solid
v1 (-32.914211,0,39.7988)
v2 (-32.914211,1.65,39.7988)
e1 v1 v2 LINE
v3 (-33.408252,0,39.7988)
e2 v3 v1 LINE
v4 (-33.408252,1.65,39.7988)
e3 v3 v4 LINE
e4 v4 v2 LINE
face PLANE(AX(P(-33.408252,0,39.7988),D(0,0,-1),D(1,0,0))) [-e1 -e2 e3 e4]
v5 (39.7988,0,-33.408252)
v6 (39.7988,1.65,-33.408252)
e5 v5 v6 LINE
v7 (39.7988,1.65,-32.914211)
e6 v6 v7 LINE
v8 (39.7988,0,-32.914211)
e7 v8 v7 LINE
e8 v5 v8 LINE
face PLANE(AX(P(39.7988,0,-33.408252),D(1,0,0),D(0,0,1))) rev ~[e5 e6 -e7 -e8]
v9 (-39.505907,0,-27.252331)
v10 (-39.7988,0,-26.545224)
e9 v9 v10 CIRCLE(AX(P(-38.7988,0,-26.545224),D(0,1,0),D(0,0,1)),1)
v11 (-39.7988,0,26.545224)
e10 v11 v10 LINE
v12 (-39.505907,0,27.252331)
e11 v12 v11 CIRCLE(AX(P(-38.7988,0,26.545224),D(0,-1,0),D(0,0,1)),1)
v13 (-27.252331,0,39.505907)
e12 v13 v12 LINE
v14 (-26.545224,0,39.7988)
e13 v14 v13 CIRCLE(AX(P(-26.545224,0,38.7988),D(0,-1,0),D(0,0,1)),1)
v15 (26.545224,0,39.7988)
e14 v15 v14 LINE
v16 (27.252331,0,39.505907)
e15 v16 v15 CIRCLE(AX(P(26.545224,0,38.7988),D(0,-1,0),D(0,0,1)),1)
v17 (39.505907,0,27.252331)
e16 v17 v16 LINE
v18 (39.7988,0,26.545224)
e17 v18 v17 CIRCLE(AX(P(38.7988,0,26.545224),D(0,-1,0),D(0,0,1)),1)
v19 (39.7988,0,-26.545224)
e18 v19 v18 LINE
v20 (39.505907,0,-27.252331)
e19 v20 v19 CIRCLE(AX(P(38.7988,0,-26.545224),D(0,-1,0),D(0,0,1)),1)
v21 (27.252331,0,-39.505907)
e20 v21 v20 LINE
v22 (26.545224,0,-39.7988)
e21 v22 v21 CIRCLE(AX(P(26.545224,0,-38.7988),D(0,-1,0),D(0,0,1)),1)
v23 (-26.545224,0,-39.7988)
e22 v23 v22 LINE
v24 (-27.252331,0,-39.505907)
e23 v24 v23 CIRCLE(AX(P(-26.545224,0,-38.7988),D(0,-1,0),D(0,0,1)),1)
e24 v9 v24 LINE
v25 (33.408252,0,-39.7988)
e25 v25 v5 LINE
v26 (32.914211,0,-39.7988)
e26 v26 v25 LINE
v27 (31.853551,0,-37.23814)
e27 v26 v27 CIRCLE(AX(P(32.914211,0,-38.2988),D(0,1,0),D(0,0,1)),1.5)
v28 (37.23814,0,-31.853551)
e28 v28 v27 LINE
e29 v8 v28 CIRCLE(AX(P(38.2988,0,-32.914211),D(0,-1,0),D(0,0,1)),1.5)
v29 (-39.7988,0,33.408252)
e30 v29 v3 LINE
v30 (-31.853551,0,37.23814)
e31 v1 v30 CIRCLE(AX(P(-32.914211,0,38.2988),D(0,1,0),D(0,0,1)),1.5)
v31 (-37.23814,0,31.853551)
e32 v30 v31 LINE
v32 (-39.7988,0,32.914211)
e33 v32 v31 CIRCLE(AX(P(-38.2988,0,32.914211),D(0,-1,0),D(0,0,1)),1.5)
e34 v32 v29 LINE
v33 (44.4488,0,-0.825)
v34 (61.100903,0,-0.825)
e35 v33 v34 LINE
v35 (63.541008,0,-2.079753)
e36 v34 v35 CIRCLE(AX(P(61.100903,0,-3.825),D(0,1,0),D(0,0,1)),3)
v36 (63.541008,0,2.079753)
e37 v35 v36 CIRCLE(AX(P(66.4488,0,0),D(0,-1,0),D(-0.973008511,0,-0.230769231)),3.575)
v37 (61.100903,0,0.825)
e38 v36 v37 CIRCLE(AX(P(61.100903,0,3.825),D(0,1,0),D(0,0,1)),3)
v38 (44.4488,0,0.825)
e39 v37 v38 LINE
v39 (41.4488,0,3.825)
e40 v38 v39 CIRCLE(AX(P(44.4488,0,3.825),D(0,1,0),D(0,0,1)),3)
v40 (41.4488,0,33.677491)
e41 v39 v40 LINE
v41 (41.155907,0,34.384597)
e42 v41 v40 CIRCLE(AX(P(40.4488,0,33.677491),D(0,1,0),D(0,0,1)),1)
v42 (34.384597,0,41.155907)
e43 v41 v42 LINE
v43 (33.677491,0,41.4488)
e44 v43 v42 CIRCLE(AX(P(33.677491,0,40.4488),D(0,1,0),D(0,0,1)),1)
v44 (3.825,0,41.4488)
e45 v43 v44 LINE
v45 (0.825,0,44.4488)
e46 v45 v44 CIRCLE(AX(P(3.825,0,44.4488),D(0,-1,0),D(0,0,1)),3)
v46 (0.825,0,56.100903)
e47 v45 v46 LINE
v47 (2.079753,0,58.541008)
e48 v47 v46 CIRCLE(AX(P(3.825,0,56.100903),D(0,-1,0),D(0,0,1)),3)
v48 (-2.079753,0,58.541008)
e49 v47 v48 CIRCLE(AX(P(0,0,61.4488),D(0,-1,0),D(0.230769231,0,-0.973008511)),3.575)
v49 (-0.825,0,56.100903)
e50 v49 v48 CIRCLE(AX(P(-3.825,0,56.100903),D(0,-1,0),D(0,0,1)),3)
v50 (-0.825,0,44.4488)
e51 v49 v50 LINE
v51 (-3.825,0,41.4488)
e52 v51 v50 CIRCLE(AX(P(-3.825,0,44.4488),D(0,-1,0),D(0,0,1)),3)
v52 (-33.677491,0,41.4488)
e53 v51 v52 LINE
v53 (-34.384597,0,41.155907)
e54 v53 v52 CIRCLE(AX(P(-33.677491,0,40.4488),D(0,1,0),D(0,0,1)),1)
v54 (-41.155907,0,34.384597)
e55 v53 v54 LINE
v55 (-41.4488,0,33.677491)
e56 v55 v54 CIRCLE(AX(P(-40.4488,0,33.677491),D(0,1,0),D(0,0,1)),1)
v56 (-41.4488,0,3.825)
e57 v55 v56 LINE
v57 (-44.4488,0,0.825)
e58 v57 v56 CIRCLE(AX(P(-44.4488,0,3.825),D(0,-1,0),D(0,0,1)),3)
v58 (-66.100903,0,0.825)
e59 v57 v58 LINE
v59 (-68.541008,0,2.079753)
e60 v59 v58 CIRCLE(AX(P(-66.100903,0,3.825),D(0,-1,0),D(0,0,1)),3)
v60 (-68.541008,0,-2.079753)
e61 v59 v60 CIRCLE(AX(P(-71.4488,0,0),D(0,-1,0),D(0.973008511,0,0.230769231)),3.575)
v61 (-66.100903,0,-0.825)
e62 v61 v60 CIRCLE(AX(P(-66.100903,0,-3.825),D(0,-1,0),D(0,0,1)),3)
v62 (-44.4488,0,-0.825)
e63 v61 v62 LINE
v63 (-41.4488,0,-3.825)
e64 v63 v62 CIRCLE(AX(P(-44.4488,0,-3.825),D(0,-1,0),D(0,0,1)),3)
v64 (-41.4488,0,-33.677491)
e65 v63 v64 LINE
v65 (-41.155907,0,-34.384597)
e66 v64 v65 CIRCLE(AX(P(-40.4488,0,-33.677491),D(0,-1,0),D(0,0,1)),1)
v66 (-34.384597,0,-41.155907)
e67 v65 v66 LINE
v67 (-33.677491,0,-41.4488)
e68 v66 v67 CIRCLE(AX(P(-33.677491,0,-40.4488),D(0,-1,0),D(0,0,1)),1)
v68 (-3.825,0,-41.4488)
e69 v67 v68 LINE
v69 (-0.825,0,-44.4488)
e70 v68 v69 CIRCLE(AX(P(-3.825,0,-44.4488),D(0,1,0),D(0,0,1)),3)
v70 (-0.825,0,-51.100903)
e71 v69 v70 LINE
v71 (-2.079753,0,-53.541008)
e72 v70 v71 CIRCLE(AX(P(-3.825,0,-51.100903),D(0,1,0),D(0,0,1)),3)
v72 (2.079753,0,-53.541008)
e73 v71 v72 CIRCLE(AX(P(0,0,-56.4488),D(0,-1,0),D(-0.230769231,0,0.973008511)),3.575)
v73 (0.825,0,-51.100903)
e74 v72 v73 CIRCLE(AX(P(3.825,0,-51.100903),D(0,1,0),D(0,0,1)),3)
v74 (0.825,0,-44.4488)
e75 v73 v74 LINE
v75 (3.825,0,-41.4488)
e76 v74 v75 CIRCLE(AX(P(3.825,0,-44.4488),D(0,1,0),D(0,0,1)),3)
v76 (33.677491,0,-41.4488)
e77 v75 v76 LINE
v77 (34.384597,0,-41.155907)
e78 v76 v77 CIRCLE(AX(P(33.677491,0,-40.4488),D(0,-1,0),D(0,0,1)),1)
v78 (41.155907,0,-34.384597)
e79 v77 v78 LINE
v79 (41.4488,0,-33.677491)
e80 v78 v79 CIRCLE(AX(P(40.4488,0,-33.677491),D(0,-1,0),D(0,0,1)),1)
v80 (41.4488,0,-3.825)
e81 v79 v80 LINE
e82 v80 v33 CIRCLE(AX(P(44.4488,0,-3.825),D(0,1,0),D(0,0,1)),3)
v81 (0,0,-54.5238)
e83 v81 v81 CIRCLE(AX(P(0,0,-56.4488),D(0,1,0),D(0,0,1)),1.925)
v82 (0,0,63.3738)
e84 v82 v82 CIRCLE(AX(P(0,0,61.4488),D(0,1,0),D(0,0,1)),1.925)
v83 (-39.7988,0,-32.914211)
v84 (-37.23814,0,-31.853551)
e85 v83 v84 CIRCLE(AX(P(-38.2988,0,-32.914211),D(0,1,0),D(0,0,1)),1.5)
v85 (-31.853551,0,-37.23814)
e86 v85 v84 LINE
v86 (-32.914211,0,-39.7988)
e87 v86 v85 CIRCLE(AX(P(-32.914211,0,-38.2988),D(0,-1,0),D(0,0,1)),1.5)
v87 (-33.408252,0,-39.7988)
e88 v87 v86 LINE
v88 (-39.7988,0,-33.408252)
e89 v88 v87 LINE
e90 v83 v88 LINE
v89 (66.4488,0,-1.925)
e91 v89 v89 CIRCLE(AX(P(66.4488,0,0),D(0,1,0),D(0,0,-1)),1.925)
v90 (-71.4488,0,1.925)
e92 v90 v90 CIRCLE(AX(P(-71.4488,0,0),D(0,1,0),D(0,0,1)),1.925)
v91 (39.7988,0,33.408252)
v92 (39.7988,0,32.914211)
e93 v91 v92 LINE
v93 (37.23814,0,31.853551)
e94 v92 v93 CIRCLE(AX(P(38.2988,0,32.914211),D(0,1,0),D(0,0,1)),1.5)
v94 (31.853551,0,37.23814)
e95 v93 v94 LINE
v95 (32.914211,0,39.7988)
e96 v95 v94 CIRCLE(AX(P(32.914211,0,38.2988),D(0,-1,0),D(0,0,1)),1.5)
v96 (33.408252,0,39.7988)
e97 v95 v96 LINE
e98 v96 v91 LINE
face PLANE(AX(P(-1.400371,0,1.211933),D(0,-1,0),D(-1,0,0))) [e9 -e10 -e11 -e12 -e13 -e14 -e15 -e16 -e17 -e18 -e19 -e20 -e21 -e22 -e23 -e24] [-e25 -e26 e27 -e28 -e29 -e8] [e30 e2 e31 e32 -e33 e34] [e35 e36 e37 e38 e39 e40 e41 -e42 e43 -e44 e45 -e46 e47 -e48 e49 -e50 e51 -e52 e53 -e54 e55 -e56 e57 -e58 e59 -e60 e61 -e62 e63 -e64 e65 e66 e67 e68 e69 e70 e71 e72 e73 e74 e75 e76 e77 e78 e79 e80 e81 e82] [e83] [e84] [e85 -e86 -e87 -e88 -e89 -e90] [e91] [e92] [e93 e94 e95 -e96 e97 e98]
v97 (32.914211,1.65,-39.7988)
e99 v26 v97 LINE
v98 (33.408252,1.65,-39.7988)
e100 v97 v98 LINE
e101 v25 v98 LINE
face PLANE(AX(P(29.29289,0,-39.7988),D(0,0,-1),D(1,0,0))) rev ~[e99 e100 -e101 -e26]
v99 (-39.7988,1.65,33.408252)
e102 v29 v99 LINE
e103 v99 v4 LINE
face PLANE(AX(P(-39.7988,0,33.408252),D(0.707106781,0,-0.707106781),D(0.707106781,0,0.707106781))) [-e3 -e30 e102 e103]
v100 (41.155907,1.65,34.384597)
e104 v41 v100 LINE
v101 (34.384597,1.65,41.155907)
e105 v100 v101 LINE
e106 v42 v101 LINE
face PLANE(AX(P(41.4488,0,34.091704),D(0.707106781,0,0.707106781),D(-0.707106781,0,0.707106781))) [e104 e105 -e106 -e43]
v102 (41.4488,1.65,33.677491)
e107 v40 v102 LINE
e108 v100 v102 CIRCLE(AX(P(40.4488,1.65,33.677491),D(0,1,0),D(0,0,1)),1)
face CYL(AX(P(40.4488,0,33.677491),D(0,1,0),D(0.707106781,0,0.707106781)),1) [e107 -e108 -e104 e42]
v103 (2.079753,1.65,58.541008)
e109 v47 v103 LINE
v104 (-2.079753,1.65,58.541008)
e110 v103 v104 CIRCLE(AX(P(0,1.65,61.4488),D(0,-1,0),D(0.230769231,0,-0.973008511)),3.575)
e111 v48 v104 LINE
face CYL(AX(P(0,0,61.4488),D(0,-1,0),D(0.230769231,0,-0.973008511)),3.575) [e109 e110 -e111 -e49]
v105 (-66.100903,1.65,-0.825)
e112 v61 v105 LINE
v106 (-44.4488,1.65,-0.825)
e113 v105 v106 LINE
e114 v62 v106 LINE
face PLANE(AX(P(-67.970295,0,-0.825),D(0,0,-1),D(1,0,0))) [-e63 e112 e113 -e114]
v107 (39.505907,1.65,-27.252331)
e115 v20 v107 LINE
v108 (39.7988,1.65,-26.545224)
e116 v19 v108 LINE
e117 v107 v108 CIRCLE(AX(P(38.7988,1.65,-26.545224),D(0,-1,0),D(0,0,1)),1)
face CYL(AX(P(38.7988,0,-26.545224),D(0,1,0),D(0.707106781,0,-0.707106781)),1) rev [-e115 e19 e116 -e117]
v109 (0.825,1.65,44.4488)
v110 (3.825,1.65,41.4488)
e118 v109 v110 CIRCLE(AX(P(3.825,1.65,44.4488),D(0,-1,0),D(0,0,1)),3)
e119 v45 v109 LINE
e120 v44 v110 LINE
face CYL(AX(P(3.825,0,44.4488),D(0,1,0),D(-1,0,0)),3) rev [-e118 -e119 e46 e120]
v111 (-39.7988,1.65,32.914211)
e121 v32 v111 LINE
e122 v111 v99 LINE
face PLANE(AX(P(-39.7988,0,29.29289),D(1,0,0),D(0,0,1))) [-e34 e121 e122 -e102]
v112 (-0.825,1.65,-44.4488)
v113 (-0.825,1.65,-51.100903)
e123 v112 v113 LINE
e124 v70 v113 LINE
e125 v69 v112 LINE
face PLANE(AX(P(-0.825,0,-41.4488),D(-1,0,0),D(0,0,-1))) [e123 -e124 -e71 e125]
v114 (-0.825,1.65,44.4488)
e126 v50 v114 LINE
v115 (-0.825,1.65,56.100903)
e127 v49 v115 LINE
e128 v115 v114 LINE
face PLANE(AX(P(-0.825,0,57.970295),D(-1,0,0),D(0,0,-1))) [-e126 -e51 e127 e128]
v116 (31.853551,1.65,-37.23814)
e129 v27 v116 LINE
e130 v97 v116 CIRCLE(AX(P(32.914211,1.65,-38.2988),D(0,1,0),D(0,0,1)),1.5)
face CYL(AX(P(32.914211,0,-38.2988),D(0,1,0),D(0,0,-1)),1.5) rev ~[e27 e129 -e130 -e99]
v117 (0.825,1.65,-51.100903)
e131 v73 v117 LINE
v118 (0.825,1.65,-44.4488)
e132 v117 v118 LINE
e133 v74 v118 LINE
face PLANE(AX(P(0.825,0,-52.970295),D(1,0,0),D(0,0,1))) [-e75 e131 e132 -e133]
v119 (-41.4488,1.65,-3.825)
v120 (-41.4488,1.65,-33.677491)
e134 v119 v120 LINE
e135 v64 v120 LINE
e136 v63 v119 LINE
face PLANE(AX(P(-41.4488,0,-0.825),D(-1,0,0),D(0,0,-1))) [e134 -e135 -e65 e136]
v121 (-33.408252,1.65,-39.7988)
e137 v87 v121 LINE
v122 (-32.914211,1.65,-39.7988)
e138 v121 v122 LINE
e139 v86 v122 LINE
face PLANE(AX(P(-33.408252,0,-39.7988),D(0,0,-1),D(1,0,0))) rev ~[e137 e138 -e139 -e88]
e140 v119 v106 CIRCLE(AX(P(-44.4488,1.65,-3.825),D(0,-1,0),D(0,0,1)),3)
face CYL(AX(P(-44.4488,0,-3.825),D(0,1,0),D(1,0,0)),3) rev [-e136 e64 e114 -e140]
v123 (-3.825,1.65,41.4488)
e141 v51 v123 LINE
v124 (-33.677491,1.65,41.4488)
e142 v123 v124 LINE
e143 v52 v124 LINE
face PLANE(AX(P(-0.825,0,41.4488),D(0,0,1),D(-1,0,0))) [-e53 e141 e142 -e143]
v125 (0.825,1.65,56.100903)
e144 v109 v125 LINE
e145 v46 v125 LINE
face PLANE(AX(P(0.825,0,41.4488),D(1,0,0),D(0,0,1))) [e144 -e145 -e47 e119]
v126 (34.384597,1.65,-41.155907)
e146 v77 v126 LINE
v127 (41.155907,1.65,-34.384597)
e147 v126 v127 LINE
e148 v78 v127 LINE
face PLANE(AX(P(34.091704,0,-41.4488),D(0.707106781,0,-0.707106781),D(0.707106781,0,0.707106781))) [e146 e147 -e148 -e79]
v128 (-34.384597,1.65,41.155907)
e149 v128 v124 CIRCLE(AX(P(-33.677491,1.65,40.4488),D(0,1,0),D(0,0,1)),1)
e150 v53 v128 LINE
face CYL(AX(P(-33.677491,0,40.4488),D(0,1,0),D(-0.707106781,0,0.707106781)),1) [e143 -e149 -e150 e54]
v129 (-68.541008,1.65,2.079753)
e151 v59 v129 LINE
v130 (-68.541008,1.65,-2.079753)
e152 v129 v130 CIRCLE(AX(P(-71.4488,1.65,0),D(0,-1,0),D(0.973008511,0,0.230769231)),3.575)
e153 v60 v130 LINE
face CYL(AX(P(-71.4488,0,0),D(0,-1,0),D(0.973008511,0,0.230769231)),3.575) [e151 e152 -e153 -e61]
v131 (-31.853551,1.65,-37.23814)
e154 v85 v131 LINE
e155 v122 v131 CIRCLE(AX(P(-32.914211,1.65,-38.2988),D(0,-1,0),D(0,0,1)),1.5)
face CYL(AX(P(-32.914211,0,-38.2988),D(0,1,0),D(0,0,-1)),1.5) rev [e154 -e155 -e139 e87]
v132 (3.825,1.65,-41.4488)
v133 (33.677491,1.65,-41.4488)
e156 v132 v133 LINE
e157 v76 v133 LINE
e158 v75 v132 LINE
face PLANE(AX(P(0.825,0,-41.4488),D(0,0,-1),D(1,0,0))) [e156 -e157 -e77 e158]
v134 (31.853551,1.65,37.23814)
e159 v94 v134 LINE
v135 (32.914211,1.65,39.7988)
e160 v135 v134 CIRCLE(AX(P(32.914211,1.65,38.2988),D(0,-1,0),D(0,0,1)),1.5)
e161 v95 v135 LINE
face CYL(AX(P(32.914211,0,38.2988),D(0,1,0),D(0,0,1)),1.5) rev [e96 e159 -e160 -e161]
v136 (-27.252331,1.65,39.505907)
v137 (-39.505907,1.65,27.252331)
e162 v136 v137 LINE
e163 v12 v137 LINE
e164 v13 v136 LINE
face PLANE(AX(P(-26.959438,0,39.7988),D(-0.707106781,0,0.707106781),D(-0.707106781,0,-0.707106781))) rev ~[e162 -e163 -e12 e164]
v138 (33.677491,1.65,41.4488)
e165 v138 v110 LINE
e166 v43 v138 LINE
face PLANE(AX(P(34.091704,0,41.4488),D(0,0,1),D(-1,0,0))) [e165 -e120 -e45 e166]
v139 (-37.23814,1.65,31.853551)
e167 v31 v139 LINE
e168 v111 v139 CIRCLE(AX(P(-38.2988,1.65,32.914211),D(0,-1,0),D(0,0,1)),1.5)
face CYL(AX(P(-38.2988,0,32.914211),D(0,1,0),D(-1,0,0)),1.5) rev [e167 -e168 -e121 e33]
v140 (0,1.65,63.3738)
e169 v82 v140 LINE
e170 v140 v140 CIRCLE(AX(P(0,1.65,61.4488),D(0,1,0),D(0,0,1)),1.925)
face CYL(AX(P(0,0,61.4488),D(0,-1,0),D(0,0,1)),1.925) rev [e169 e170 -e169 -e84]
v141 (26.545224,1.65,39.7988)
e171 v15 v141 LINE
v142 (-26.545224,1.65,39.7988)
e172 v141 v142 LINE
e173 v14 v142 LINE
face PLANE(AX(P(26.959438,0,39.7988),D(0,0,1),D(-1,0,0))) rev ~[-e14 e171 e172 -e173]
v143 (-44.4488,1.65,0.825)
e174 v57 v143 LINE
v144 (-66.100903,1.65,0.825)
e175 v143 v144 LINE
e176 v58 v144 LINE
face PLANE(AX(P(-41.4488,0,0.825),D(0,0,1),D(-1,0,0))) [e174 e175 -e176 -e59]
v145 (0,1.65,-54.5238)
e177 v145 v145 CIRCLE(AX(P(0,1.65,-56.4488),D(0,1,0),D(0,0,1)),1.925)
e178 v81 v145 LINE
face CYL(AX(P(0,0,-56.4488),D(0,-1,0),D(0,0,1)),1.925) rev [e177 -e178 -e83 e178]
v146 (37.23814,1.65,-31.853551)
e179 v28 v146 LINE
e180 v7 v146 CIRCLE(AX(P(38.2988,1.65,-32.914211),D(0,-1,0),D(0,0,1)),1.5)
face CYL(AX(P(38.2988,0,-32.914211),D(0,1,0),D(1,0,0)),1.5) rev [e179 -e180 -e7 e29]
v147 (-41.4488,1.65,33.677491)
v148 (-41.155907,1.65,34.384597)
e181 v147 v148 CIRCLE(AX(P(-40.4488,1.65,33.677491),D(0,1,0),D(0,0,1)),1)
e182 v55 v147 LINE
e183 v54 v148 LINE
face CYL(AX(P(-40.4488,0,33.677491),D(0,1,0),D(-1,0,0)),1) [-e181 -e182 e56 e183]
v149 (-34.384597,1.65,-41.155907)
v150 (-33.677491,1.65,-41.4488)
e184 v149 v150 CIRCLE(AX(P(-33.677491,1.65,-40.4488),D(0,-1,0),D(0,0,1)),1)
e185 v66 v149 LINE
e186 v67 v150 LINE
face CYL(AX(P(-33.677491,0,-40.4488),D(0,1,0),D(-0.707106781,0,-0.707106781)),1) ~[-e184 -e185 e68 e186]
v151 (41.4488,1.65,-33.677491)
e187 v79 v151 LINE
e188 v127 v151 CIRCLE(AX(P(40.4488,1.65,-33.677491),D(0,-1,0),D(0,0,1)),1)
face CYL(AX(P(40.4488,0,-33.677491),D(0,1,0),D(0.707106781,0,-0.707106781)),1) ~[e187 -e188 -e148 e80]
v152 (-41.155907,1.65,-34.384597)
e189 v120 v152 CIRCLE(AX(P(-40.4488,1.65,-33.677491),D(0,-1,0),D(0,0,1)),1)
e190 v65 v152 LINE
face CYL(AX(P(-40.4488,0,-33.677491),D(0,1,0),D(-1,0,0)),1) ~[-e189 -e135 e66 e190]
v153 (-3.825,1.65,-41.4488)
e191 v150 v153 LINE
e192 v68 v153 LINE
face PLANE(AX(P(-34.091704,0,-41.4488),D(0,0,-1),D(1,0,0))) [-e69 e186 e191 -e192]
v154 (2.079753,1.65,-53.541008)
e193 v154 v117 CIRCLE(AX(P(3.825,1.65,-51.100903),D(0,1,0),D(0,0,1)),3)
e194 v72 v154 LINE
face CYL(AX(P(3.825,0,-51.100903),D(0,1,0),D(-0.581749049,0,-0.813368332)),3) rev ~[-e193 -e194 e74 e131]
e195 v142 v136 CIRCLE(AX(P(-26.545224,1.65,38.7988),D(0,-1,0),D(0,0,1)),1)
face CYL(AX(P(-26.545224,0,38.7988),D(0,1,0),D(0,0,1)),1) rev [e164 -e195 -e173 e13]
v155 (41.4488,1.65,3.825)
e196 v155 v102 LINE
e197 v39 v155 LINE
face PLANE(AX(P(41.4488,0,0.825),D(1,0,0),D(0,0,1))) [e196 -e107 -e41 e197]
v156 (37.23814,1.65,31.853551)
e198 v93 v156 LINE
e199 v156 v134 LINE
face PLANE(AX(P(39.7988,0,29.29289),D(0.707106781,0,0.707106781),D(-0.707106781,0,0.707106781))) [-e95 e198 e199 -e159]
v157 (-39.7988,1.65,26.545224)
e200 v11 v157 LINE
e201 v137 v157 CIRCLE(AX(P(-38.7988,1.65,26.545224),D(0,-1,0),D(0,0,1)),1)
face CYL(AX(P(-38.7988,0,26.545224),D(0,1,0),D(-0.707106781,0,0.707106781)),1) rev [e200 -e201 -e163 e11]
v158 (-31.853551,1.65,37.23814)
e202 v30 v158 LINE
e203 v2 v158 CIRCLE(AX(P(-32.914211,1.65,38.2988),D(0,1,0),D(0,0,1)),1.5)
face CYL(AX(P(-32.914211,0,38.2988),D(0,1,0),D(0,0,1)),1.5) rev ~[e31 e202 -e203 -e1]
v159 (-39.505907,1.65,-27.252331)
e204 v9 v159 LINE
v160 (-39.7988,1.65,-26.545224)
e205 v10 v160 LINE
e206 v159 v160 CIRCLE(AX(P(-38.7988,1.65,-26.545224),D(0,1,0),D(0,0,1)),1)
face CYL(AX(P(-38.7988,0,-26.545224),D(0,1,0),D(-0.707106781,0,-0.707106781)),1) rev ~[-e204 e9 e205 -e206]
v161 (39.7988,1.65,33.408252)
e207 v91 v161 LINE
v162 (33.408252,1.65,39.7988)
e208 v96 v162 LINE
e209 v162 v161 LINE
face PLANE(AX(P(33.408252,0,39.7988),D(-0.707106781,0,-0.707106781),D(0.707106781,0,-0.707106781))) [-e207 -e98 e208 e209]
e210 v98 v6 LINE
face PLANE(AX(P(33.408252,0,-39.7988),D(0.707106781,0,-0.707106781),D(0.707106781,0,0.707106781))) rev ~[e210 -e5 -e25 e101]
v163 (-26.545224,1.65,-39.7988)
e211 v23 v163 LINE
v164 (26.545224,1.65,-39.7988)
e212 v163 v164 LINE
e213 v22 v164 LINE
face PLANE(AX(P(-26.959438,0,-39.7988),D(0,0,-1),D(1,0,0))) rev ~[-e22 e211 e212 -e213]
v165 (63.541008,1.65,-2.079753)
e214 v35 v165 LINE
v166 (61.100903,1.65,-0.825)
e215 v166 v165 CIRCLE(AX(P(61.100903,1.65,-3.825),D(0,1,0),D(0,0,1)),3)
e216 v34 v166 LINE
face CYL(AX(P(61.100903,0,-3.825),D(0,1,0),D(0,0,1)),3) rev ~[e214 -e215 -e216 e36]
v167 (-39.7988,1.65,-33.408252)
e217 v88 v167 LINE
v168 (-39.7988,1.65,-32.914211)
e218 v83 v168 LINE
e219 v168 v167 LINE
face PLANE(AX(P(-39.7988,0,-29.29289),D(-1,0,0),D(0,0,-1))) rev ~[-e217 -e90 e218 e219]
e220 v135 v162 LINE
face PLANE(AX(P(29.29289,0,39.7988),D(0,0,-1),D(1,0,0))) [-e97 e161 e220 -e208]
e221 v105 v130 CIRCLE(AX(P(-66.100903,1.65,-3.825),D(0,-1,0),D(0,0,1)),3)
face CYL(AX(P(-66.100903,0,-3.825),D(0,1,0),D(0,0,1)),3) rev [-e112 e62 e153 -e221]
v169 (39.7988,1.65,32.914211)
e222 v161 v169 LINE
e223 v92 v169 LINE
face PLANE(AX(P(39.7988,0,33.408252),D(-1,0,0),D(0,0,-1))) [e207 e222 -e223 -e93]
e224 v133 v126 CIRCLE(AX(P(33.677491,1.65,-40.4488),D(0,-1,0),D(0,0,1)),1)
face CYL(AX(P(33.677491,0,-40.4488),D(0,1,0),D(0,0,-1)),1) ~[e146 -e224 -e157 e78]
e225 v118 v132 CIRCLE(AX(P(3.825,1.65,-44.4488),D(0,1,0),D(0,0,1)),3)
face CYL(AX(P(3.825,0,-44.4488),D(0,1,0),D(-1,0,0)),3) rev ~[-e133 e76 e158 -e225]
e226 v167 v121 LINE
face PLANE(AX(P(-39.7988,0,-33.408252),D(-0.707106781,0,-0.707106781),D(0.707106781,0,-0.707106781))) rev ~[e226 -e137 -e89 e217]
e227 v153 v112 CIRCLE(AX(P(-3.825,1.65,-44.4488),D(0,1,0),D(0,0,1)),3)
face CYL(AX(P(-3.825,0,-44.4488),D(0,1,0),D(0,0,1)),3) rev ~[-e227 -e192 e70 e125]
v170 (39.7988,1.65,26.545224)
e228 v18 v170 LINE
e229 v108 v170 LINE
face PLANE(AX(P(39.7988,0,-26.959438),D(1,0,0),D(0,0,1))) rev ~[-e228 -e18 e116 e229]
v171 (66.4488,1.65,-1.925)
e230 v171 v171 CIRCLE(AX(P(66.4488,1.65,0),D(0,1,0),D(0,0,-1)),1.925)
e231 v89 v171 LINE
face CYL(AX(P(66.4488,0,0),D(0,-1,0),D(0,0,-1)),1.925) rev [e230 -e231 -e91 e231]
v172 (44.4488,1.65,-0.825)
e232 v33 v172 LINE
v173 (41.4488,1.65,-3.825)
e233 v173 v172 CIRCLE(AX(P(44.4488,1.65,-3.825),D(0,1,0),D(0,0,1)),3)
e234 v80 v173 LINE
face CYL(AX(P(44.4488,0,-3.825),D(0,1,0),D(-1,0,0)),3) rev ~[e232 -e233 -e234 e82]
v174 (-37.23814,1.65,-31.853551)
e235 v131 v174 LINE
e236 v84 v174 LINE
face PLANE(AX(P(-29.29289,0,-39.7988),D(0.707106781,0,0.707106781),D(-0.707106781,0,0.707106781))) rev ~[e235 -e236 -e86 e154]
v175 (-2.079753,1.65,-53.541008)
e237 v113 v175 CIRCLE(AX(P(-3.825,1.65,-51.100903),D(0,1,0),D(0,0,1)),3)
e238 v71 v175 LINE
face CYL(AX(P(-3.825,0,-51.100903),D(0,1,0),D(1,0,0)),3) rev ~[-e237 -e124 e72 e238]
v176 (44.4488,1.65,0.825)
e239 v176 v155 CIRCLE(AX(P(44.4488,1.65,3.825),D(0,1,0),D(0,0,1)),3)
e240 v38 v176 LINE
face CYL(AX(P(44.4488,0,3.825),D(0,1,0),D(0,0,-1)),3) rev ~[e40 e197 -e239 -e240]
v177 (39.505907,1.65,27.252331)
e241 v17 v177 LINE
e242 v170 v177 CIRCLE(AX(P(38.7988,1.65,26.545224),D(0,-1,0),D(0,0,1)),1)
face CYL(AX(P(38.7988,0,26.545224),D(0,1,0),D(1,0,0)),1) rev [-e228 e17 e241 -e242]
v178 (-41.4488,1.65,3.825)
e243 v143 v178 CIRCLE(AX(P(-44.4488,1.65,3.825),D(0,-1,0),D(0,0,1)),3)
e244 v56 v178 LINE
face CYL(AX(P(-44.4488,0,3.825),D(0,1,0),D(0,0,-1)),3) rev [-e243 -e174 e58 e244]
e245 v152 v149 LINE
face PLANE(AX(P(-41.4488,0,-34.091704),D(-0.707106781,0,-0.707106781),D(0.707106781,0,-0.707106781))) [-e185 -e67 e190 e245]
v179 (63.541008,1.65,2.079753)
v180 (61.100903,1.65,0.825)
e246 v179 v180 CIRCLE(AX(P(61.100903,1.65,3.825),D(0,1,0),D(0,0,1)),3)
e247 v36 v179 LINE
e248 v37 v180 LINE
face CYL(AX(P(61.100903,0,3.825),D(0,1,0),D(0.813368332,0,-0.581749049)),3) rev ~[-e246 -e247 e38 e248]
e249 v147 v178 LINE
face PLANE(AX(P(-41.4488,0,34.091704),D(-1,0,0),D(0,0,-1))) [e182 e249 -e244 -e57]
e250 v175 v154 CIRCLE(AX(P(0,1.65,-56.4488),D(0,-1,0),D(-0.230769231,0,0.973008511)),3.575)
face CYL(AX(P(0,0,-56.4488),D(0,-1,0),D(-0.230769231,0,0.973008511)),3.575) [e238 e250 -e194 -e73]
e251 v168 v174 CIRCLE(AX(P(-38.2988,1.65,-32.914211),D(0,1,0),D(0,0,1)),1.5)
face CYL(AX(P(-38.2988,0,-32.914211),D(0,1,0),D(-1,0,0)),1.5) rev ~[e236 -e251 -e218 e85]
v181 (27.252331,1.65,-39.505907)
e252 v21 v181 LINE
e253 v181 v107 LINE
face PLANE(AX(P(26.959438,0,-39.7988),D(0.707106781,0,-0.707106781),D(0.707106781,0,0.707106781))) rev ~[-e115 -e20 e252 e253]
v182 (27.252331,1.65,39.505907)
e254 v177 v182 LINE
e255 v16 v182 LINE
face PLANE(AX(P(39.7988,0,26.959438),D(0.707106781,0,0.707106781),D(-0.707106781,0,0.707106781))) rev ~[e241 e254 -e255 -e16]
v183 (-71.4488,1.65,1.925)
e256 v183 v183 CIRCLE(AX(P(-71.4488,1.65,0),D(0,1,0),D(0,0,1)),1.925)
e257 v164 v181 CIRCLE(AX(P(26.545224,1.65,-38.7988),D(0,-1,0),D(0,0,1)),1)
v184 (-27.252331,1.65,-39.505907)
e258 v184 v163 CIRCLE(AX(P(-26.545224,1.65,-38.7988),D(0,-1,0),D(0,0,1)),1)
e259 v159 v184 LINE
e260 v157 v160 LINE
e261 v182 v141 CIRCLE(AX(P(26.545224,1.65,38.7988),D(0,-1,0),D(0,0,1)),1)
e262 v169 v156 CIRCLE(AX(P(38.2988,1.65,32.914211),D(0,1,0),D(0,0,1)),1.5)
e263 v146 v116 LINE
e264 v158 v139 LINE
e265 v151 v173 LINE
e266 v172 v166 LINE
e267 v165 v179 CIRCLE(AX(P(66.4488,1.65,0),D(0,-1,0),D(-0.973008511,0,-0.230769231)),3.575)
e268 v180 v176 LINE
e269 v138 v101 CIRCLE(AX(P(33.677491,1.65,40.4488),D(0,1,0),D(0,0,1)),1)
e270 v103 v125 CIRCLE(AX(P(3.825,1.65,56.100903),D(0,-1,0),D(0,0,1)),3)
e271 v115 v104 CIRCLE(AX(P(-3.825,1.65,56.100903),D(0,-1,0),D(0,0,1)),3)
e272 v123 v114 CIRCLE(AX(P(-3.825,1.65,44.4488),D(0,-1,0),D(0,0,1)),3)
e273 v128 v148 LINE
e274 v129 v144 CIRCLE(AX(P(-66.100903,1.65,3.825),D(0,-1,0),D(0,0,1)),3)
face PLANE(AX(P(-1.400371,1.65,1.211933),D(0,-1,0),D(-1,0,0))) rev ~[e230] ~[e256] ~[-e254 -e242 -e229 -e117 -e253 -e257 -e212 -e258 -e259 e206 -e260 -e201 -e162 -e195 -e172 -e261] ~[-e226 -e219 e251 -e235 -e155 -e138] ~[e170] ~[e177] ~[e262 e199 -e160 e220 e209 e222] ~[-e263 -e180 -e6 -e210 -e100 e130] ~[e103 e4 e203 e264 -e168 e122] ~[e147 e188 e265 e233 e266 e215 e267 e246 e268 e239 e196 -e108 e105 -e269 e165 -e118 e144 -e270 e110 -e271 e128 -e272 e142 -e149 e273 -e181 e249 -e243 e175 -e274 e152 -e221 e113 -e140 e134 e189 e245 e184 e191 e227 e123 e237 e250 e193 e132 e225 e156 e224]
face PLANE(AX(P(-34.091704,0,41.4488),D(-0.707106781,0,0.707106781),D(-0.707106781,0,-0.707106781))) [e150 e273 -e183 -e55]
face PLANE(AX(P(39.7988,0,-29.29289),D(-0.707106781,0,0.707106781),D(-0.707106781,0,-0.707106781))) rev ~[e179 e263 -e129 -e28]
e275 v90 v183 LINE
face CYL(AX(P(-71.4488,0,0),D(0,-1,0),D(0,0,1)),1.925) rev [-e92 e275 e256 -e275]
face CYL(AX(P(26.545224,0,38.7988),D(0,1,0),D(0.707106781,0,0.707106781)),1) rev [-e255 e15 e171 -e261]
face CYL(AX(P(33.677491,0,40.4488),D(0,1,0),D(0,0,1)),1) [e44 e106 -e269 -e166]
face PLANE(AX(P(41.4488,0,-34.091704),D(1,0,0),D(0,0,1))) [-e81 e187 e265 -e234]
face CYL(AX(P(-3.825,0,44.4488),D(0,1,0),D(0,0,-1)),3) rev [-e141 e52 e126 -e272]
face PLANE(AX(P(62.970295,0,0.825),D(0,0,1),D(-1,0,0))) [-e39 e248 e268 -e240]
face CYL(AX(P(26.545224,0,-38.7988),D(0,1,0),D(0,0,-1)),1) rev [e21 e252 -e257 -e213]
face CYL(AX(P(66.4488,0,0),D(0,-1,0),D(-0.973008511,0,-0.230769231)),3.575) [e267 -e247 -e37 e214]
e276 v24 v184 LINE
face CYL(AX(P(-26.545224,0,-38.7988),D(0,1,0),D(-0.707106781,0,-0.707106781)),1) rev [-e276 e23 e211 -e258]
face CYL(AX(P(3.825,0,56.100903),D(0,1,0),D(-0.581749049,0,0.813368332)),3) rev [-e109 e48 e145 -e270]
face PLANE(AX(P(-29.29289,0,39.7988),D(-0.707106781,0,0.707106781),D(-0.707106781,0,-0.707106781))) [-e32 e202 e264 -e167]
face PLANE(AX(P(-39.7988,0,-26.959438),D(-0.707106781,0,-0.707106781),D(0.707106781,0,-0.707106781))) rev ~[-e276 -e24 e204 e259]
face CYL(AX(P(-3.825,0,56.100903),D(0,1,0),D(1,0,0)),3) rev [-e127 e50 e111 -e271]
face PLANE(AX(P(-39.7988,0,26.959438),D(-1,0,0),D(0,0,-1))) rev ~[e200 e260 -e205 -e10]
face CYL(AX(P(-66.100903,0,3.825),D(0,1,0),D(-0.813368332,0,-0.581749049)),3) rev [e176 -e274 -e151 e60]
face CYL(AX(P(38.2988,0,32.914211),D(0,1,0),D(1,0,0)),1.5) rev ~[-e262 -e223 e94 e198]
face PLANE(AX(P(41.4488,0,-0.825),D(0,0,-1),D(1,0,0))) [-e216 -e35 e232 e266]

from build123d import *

# Parameters (mm, degrees)
SKETCH1_R           = 1.925
BOSS_EXTRUDE1_DEPTH = 1.65
FILLET4_R           = 3
FILLET3_R           = 1.5
FILLET5_R           = 1


with BuildPart() as part:
    # Sketch1 → Boss-Extrude1 (new body)
    with BuildSketch(Plane(origin=(0, 0, 0), x_dir=(1, 0, 0), z_dir=(0, 1, 0))):
        with BuildLine():
            Line((-41.448800006, 34.091704203), (-34.091704203, 41.448800006))
            Line((-34.091704203, 41.448800006), (-0.825, 41.448800006))
            Line((-0.825, 41.448800006), (-0.825, 52.97029458))
            ThreePointArc((-0.825, 52.97029458), (0, 60.023800006), (0.825, 52.97029458))
            Line((0.825, 52.97029458), (0.825, 41.448800006))
            Line((0.825, 41.448800006), (34.091704203, 41.448800006))
            Line((34.091704203, 41.448800006), (41.448800006, 34.091704203))
            Line((41.448800006, 34.091704203), (41.448800006, 0.825))
            Line((41.448800006, 0.825), (62.97029458, 0.825))
            ThreePointArc((62.97029458, 0.825), (70.023800006, 0), (62.97029458, -0.825))
            Line((62.97029458, -0.825), (41.448800006, -0.825))
            Line((41.448800006, -0.825), (41.448800006, -34.091704203))
            Line((41.448800006, -34.091704203), (34.091704203, -41.448800006))
            Line((34.091704203, -41.448800006), (0.825, -41.448800006))
            Line((0.825, -41.448800006), (0.825, -57.97029458))
            ThreePointArc((0.825, -57.97029458), (0, -65.023800006), (-0.825, -57.97029458))
            Line((-0.825, -57.97029458), (-0.825, -41.448800006))
            Line((-0.825, -41.448800006), (-34.091704203, -41.448800006))
            Line((-34.091704203, -41.448800006), (-41.448800006, -34.091704203))
            Line((-41.448800006, -34.091704203), (-41.448800006, -0.825))
            Line((-41.448800006, -0.825), (-67.97029458, -0.825))
            ThreePointArc((-67.97029458, -0.825), (-75.023800006, 0), (-67.97029458, 0.825))
            Line((-67.97029458, 0.825), (-41.448800006, 0.825))
            Line((-41.448800006, 0.825), (-41.448800006, 34.091704203))
        make_face()
        with Locations(Location((0, 56.448800006, 0), (0, 0, 270))):
            Circle(SKETCH1_R, mode=Mode.SUBTRACT)
        with Locations(Location((66.448800006, 0, 0), (0, 0, 90))):
            Circle(SKETCH1_R, mode=Mode.SUBTRACT)
        with Locations(Location((0, -61.448800006, 0), (0, 0, 270))):
            Circle(SKETCH1_R, mode=Mode.SUBTRACT)
        with Locations(Location((-71.448800006, 0, 0), (0, 0, 270))):
            Circle(SKETCH1_R, mode=Mode.SUBTRACT)
        Polygon((-39.798800006, 33.408251825), (-33.408251825, 39.798800006), (-29.292890359, 39.798800006), (-39.798800006, 29.292890359), align=None, mode=Mode.SUBTRACT)
        Polygon((-33.408251825, -39.798800006), (-29.292890359, -39.798800006), (-39.798800006, -29.292890359), (-39.798800006, -33.408251825), align=None, mode=Mode.SUBTRACT)
        Polygon((39.798800006, -33.408251825), (39.798800006, -29.292890359), (29.292890359, -39.798800006), (33.408251825, -39.798800006), align=None, mode=Mode.SUBTRACT)
        Polygon((33.408251825, 39.798800006), (39.798800006, 33.408251825), (39.798800006, 29.292890359), (29.292890359, 39.798800006), align=None, mode=Mode.SUBTRACT)
        Polygon((-39.798800006, 26.959437981), (-26.959437981, 39.798800006), (26.959437981, 39.798800006), (39.798800006, 26.959437981), (39.798800006, -26.959437981), (26.959437981, -39.798800006), (-26.959437981, -39.798800006), (-39.798800006, -26.959437981), align=None, mode=Mode.SUBTRACT)
    extrude(amount=BOSS_EXTRUDE1_DEPTH)

    # Fillet4
    fillet4_edges = [part.edges().sort_by_distance(p)[0] for p in [
        (-0.825, 0.825, -41.448800006),
        (-0.825, 0.825, -52.97029458),
        (0.825, 0.825, -52.97029458),
        (0.825, 0.825, -41.448800006),
        (41.448800006, 0.825, -0.825),
        (62.97029458, 0.825, -0.825),
        (62.97029458, 0.825, 0.825),
        (41.448800006, 0.825, 0.825),
        (0.825, 0.825, 41.448800006),
        (0.825, 0.825, 57.97029458),
        (-0.825, 0.825, 57.97029458),
        (-0.825, 0.825, 41.448800006),
        (-41.448800006, 0.825, 0.825),
        (-67.97029458, 0.825, 0.825),
        (-67.97029458, 0.825, -0.825),
        (-41.448800006, 0.825, -0.825),
    ]]
    fillet(fillet4_edges, radius=FILLET4_R)

    # Fillet3
    fillet3_edges = [part.edges().sort_by_distance(p)[0] for p in [
        (-29.292890359, 0.825, 39.798800006),
        (-39.798800006, 0.825, 29.292890359),
        (-39.798800006, 0.825, -29.292890359),
        (-29.292890359, 0.825, -39.798800006),
        (29.292890359, 0.825, -39.798800006),
        (39.798800006, 0.825, -29.292890359),
        (39.798800006, 0.825, 29.292890359),
        (29.292890359, 0.825, 39.798800006),
    ]]
    fillet(fillet3_edges, radius=FILLET3_R)

    # Fillet5
    fillet5_edges = [part.edges().sort_by_distance(p)[0] for p in [
        (-39.798800006, 0.825, -26.959437981),
        (-39.798800006, 0.825, 26.959437981),
        (-26.959437981, 0.825, 39.798800006),
        (26.959437981, 0.825, 39.798800006),
        (39.798800006, 0.825, 26.959437981),
        (39.798800006, 0.825, -26.959437981),
        (26.959437981, 0.825, -39.798800006),
        (-26.959437981, 0.825, -39.798800006),
        (-41.448800006, 0.825, -34.091704203),
        (-34.091704203, 0.825, -41.448800006),
        (34.091704203, 0.825, -41.448800006),
        (41.448800006, 0.825, -34.091704203),
        (41.448800006, 0.825, 34.091704203),
        (34.091704203, 0.825, 41.448800006),
        (-34.091704203, 0.825, 41.448800006),
        (-41.448800006, 0.825, 34.091704203),
    ]]
    fillet(fillet5_edges, radius=FILLET5_R)


solid = part.part
